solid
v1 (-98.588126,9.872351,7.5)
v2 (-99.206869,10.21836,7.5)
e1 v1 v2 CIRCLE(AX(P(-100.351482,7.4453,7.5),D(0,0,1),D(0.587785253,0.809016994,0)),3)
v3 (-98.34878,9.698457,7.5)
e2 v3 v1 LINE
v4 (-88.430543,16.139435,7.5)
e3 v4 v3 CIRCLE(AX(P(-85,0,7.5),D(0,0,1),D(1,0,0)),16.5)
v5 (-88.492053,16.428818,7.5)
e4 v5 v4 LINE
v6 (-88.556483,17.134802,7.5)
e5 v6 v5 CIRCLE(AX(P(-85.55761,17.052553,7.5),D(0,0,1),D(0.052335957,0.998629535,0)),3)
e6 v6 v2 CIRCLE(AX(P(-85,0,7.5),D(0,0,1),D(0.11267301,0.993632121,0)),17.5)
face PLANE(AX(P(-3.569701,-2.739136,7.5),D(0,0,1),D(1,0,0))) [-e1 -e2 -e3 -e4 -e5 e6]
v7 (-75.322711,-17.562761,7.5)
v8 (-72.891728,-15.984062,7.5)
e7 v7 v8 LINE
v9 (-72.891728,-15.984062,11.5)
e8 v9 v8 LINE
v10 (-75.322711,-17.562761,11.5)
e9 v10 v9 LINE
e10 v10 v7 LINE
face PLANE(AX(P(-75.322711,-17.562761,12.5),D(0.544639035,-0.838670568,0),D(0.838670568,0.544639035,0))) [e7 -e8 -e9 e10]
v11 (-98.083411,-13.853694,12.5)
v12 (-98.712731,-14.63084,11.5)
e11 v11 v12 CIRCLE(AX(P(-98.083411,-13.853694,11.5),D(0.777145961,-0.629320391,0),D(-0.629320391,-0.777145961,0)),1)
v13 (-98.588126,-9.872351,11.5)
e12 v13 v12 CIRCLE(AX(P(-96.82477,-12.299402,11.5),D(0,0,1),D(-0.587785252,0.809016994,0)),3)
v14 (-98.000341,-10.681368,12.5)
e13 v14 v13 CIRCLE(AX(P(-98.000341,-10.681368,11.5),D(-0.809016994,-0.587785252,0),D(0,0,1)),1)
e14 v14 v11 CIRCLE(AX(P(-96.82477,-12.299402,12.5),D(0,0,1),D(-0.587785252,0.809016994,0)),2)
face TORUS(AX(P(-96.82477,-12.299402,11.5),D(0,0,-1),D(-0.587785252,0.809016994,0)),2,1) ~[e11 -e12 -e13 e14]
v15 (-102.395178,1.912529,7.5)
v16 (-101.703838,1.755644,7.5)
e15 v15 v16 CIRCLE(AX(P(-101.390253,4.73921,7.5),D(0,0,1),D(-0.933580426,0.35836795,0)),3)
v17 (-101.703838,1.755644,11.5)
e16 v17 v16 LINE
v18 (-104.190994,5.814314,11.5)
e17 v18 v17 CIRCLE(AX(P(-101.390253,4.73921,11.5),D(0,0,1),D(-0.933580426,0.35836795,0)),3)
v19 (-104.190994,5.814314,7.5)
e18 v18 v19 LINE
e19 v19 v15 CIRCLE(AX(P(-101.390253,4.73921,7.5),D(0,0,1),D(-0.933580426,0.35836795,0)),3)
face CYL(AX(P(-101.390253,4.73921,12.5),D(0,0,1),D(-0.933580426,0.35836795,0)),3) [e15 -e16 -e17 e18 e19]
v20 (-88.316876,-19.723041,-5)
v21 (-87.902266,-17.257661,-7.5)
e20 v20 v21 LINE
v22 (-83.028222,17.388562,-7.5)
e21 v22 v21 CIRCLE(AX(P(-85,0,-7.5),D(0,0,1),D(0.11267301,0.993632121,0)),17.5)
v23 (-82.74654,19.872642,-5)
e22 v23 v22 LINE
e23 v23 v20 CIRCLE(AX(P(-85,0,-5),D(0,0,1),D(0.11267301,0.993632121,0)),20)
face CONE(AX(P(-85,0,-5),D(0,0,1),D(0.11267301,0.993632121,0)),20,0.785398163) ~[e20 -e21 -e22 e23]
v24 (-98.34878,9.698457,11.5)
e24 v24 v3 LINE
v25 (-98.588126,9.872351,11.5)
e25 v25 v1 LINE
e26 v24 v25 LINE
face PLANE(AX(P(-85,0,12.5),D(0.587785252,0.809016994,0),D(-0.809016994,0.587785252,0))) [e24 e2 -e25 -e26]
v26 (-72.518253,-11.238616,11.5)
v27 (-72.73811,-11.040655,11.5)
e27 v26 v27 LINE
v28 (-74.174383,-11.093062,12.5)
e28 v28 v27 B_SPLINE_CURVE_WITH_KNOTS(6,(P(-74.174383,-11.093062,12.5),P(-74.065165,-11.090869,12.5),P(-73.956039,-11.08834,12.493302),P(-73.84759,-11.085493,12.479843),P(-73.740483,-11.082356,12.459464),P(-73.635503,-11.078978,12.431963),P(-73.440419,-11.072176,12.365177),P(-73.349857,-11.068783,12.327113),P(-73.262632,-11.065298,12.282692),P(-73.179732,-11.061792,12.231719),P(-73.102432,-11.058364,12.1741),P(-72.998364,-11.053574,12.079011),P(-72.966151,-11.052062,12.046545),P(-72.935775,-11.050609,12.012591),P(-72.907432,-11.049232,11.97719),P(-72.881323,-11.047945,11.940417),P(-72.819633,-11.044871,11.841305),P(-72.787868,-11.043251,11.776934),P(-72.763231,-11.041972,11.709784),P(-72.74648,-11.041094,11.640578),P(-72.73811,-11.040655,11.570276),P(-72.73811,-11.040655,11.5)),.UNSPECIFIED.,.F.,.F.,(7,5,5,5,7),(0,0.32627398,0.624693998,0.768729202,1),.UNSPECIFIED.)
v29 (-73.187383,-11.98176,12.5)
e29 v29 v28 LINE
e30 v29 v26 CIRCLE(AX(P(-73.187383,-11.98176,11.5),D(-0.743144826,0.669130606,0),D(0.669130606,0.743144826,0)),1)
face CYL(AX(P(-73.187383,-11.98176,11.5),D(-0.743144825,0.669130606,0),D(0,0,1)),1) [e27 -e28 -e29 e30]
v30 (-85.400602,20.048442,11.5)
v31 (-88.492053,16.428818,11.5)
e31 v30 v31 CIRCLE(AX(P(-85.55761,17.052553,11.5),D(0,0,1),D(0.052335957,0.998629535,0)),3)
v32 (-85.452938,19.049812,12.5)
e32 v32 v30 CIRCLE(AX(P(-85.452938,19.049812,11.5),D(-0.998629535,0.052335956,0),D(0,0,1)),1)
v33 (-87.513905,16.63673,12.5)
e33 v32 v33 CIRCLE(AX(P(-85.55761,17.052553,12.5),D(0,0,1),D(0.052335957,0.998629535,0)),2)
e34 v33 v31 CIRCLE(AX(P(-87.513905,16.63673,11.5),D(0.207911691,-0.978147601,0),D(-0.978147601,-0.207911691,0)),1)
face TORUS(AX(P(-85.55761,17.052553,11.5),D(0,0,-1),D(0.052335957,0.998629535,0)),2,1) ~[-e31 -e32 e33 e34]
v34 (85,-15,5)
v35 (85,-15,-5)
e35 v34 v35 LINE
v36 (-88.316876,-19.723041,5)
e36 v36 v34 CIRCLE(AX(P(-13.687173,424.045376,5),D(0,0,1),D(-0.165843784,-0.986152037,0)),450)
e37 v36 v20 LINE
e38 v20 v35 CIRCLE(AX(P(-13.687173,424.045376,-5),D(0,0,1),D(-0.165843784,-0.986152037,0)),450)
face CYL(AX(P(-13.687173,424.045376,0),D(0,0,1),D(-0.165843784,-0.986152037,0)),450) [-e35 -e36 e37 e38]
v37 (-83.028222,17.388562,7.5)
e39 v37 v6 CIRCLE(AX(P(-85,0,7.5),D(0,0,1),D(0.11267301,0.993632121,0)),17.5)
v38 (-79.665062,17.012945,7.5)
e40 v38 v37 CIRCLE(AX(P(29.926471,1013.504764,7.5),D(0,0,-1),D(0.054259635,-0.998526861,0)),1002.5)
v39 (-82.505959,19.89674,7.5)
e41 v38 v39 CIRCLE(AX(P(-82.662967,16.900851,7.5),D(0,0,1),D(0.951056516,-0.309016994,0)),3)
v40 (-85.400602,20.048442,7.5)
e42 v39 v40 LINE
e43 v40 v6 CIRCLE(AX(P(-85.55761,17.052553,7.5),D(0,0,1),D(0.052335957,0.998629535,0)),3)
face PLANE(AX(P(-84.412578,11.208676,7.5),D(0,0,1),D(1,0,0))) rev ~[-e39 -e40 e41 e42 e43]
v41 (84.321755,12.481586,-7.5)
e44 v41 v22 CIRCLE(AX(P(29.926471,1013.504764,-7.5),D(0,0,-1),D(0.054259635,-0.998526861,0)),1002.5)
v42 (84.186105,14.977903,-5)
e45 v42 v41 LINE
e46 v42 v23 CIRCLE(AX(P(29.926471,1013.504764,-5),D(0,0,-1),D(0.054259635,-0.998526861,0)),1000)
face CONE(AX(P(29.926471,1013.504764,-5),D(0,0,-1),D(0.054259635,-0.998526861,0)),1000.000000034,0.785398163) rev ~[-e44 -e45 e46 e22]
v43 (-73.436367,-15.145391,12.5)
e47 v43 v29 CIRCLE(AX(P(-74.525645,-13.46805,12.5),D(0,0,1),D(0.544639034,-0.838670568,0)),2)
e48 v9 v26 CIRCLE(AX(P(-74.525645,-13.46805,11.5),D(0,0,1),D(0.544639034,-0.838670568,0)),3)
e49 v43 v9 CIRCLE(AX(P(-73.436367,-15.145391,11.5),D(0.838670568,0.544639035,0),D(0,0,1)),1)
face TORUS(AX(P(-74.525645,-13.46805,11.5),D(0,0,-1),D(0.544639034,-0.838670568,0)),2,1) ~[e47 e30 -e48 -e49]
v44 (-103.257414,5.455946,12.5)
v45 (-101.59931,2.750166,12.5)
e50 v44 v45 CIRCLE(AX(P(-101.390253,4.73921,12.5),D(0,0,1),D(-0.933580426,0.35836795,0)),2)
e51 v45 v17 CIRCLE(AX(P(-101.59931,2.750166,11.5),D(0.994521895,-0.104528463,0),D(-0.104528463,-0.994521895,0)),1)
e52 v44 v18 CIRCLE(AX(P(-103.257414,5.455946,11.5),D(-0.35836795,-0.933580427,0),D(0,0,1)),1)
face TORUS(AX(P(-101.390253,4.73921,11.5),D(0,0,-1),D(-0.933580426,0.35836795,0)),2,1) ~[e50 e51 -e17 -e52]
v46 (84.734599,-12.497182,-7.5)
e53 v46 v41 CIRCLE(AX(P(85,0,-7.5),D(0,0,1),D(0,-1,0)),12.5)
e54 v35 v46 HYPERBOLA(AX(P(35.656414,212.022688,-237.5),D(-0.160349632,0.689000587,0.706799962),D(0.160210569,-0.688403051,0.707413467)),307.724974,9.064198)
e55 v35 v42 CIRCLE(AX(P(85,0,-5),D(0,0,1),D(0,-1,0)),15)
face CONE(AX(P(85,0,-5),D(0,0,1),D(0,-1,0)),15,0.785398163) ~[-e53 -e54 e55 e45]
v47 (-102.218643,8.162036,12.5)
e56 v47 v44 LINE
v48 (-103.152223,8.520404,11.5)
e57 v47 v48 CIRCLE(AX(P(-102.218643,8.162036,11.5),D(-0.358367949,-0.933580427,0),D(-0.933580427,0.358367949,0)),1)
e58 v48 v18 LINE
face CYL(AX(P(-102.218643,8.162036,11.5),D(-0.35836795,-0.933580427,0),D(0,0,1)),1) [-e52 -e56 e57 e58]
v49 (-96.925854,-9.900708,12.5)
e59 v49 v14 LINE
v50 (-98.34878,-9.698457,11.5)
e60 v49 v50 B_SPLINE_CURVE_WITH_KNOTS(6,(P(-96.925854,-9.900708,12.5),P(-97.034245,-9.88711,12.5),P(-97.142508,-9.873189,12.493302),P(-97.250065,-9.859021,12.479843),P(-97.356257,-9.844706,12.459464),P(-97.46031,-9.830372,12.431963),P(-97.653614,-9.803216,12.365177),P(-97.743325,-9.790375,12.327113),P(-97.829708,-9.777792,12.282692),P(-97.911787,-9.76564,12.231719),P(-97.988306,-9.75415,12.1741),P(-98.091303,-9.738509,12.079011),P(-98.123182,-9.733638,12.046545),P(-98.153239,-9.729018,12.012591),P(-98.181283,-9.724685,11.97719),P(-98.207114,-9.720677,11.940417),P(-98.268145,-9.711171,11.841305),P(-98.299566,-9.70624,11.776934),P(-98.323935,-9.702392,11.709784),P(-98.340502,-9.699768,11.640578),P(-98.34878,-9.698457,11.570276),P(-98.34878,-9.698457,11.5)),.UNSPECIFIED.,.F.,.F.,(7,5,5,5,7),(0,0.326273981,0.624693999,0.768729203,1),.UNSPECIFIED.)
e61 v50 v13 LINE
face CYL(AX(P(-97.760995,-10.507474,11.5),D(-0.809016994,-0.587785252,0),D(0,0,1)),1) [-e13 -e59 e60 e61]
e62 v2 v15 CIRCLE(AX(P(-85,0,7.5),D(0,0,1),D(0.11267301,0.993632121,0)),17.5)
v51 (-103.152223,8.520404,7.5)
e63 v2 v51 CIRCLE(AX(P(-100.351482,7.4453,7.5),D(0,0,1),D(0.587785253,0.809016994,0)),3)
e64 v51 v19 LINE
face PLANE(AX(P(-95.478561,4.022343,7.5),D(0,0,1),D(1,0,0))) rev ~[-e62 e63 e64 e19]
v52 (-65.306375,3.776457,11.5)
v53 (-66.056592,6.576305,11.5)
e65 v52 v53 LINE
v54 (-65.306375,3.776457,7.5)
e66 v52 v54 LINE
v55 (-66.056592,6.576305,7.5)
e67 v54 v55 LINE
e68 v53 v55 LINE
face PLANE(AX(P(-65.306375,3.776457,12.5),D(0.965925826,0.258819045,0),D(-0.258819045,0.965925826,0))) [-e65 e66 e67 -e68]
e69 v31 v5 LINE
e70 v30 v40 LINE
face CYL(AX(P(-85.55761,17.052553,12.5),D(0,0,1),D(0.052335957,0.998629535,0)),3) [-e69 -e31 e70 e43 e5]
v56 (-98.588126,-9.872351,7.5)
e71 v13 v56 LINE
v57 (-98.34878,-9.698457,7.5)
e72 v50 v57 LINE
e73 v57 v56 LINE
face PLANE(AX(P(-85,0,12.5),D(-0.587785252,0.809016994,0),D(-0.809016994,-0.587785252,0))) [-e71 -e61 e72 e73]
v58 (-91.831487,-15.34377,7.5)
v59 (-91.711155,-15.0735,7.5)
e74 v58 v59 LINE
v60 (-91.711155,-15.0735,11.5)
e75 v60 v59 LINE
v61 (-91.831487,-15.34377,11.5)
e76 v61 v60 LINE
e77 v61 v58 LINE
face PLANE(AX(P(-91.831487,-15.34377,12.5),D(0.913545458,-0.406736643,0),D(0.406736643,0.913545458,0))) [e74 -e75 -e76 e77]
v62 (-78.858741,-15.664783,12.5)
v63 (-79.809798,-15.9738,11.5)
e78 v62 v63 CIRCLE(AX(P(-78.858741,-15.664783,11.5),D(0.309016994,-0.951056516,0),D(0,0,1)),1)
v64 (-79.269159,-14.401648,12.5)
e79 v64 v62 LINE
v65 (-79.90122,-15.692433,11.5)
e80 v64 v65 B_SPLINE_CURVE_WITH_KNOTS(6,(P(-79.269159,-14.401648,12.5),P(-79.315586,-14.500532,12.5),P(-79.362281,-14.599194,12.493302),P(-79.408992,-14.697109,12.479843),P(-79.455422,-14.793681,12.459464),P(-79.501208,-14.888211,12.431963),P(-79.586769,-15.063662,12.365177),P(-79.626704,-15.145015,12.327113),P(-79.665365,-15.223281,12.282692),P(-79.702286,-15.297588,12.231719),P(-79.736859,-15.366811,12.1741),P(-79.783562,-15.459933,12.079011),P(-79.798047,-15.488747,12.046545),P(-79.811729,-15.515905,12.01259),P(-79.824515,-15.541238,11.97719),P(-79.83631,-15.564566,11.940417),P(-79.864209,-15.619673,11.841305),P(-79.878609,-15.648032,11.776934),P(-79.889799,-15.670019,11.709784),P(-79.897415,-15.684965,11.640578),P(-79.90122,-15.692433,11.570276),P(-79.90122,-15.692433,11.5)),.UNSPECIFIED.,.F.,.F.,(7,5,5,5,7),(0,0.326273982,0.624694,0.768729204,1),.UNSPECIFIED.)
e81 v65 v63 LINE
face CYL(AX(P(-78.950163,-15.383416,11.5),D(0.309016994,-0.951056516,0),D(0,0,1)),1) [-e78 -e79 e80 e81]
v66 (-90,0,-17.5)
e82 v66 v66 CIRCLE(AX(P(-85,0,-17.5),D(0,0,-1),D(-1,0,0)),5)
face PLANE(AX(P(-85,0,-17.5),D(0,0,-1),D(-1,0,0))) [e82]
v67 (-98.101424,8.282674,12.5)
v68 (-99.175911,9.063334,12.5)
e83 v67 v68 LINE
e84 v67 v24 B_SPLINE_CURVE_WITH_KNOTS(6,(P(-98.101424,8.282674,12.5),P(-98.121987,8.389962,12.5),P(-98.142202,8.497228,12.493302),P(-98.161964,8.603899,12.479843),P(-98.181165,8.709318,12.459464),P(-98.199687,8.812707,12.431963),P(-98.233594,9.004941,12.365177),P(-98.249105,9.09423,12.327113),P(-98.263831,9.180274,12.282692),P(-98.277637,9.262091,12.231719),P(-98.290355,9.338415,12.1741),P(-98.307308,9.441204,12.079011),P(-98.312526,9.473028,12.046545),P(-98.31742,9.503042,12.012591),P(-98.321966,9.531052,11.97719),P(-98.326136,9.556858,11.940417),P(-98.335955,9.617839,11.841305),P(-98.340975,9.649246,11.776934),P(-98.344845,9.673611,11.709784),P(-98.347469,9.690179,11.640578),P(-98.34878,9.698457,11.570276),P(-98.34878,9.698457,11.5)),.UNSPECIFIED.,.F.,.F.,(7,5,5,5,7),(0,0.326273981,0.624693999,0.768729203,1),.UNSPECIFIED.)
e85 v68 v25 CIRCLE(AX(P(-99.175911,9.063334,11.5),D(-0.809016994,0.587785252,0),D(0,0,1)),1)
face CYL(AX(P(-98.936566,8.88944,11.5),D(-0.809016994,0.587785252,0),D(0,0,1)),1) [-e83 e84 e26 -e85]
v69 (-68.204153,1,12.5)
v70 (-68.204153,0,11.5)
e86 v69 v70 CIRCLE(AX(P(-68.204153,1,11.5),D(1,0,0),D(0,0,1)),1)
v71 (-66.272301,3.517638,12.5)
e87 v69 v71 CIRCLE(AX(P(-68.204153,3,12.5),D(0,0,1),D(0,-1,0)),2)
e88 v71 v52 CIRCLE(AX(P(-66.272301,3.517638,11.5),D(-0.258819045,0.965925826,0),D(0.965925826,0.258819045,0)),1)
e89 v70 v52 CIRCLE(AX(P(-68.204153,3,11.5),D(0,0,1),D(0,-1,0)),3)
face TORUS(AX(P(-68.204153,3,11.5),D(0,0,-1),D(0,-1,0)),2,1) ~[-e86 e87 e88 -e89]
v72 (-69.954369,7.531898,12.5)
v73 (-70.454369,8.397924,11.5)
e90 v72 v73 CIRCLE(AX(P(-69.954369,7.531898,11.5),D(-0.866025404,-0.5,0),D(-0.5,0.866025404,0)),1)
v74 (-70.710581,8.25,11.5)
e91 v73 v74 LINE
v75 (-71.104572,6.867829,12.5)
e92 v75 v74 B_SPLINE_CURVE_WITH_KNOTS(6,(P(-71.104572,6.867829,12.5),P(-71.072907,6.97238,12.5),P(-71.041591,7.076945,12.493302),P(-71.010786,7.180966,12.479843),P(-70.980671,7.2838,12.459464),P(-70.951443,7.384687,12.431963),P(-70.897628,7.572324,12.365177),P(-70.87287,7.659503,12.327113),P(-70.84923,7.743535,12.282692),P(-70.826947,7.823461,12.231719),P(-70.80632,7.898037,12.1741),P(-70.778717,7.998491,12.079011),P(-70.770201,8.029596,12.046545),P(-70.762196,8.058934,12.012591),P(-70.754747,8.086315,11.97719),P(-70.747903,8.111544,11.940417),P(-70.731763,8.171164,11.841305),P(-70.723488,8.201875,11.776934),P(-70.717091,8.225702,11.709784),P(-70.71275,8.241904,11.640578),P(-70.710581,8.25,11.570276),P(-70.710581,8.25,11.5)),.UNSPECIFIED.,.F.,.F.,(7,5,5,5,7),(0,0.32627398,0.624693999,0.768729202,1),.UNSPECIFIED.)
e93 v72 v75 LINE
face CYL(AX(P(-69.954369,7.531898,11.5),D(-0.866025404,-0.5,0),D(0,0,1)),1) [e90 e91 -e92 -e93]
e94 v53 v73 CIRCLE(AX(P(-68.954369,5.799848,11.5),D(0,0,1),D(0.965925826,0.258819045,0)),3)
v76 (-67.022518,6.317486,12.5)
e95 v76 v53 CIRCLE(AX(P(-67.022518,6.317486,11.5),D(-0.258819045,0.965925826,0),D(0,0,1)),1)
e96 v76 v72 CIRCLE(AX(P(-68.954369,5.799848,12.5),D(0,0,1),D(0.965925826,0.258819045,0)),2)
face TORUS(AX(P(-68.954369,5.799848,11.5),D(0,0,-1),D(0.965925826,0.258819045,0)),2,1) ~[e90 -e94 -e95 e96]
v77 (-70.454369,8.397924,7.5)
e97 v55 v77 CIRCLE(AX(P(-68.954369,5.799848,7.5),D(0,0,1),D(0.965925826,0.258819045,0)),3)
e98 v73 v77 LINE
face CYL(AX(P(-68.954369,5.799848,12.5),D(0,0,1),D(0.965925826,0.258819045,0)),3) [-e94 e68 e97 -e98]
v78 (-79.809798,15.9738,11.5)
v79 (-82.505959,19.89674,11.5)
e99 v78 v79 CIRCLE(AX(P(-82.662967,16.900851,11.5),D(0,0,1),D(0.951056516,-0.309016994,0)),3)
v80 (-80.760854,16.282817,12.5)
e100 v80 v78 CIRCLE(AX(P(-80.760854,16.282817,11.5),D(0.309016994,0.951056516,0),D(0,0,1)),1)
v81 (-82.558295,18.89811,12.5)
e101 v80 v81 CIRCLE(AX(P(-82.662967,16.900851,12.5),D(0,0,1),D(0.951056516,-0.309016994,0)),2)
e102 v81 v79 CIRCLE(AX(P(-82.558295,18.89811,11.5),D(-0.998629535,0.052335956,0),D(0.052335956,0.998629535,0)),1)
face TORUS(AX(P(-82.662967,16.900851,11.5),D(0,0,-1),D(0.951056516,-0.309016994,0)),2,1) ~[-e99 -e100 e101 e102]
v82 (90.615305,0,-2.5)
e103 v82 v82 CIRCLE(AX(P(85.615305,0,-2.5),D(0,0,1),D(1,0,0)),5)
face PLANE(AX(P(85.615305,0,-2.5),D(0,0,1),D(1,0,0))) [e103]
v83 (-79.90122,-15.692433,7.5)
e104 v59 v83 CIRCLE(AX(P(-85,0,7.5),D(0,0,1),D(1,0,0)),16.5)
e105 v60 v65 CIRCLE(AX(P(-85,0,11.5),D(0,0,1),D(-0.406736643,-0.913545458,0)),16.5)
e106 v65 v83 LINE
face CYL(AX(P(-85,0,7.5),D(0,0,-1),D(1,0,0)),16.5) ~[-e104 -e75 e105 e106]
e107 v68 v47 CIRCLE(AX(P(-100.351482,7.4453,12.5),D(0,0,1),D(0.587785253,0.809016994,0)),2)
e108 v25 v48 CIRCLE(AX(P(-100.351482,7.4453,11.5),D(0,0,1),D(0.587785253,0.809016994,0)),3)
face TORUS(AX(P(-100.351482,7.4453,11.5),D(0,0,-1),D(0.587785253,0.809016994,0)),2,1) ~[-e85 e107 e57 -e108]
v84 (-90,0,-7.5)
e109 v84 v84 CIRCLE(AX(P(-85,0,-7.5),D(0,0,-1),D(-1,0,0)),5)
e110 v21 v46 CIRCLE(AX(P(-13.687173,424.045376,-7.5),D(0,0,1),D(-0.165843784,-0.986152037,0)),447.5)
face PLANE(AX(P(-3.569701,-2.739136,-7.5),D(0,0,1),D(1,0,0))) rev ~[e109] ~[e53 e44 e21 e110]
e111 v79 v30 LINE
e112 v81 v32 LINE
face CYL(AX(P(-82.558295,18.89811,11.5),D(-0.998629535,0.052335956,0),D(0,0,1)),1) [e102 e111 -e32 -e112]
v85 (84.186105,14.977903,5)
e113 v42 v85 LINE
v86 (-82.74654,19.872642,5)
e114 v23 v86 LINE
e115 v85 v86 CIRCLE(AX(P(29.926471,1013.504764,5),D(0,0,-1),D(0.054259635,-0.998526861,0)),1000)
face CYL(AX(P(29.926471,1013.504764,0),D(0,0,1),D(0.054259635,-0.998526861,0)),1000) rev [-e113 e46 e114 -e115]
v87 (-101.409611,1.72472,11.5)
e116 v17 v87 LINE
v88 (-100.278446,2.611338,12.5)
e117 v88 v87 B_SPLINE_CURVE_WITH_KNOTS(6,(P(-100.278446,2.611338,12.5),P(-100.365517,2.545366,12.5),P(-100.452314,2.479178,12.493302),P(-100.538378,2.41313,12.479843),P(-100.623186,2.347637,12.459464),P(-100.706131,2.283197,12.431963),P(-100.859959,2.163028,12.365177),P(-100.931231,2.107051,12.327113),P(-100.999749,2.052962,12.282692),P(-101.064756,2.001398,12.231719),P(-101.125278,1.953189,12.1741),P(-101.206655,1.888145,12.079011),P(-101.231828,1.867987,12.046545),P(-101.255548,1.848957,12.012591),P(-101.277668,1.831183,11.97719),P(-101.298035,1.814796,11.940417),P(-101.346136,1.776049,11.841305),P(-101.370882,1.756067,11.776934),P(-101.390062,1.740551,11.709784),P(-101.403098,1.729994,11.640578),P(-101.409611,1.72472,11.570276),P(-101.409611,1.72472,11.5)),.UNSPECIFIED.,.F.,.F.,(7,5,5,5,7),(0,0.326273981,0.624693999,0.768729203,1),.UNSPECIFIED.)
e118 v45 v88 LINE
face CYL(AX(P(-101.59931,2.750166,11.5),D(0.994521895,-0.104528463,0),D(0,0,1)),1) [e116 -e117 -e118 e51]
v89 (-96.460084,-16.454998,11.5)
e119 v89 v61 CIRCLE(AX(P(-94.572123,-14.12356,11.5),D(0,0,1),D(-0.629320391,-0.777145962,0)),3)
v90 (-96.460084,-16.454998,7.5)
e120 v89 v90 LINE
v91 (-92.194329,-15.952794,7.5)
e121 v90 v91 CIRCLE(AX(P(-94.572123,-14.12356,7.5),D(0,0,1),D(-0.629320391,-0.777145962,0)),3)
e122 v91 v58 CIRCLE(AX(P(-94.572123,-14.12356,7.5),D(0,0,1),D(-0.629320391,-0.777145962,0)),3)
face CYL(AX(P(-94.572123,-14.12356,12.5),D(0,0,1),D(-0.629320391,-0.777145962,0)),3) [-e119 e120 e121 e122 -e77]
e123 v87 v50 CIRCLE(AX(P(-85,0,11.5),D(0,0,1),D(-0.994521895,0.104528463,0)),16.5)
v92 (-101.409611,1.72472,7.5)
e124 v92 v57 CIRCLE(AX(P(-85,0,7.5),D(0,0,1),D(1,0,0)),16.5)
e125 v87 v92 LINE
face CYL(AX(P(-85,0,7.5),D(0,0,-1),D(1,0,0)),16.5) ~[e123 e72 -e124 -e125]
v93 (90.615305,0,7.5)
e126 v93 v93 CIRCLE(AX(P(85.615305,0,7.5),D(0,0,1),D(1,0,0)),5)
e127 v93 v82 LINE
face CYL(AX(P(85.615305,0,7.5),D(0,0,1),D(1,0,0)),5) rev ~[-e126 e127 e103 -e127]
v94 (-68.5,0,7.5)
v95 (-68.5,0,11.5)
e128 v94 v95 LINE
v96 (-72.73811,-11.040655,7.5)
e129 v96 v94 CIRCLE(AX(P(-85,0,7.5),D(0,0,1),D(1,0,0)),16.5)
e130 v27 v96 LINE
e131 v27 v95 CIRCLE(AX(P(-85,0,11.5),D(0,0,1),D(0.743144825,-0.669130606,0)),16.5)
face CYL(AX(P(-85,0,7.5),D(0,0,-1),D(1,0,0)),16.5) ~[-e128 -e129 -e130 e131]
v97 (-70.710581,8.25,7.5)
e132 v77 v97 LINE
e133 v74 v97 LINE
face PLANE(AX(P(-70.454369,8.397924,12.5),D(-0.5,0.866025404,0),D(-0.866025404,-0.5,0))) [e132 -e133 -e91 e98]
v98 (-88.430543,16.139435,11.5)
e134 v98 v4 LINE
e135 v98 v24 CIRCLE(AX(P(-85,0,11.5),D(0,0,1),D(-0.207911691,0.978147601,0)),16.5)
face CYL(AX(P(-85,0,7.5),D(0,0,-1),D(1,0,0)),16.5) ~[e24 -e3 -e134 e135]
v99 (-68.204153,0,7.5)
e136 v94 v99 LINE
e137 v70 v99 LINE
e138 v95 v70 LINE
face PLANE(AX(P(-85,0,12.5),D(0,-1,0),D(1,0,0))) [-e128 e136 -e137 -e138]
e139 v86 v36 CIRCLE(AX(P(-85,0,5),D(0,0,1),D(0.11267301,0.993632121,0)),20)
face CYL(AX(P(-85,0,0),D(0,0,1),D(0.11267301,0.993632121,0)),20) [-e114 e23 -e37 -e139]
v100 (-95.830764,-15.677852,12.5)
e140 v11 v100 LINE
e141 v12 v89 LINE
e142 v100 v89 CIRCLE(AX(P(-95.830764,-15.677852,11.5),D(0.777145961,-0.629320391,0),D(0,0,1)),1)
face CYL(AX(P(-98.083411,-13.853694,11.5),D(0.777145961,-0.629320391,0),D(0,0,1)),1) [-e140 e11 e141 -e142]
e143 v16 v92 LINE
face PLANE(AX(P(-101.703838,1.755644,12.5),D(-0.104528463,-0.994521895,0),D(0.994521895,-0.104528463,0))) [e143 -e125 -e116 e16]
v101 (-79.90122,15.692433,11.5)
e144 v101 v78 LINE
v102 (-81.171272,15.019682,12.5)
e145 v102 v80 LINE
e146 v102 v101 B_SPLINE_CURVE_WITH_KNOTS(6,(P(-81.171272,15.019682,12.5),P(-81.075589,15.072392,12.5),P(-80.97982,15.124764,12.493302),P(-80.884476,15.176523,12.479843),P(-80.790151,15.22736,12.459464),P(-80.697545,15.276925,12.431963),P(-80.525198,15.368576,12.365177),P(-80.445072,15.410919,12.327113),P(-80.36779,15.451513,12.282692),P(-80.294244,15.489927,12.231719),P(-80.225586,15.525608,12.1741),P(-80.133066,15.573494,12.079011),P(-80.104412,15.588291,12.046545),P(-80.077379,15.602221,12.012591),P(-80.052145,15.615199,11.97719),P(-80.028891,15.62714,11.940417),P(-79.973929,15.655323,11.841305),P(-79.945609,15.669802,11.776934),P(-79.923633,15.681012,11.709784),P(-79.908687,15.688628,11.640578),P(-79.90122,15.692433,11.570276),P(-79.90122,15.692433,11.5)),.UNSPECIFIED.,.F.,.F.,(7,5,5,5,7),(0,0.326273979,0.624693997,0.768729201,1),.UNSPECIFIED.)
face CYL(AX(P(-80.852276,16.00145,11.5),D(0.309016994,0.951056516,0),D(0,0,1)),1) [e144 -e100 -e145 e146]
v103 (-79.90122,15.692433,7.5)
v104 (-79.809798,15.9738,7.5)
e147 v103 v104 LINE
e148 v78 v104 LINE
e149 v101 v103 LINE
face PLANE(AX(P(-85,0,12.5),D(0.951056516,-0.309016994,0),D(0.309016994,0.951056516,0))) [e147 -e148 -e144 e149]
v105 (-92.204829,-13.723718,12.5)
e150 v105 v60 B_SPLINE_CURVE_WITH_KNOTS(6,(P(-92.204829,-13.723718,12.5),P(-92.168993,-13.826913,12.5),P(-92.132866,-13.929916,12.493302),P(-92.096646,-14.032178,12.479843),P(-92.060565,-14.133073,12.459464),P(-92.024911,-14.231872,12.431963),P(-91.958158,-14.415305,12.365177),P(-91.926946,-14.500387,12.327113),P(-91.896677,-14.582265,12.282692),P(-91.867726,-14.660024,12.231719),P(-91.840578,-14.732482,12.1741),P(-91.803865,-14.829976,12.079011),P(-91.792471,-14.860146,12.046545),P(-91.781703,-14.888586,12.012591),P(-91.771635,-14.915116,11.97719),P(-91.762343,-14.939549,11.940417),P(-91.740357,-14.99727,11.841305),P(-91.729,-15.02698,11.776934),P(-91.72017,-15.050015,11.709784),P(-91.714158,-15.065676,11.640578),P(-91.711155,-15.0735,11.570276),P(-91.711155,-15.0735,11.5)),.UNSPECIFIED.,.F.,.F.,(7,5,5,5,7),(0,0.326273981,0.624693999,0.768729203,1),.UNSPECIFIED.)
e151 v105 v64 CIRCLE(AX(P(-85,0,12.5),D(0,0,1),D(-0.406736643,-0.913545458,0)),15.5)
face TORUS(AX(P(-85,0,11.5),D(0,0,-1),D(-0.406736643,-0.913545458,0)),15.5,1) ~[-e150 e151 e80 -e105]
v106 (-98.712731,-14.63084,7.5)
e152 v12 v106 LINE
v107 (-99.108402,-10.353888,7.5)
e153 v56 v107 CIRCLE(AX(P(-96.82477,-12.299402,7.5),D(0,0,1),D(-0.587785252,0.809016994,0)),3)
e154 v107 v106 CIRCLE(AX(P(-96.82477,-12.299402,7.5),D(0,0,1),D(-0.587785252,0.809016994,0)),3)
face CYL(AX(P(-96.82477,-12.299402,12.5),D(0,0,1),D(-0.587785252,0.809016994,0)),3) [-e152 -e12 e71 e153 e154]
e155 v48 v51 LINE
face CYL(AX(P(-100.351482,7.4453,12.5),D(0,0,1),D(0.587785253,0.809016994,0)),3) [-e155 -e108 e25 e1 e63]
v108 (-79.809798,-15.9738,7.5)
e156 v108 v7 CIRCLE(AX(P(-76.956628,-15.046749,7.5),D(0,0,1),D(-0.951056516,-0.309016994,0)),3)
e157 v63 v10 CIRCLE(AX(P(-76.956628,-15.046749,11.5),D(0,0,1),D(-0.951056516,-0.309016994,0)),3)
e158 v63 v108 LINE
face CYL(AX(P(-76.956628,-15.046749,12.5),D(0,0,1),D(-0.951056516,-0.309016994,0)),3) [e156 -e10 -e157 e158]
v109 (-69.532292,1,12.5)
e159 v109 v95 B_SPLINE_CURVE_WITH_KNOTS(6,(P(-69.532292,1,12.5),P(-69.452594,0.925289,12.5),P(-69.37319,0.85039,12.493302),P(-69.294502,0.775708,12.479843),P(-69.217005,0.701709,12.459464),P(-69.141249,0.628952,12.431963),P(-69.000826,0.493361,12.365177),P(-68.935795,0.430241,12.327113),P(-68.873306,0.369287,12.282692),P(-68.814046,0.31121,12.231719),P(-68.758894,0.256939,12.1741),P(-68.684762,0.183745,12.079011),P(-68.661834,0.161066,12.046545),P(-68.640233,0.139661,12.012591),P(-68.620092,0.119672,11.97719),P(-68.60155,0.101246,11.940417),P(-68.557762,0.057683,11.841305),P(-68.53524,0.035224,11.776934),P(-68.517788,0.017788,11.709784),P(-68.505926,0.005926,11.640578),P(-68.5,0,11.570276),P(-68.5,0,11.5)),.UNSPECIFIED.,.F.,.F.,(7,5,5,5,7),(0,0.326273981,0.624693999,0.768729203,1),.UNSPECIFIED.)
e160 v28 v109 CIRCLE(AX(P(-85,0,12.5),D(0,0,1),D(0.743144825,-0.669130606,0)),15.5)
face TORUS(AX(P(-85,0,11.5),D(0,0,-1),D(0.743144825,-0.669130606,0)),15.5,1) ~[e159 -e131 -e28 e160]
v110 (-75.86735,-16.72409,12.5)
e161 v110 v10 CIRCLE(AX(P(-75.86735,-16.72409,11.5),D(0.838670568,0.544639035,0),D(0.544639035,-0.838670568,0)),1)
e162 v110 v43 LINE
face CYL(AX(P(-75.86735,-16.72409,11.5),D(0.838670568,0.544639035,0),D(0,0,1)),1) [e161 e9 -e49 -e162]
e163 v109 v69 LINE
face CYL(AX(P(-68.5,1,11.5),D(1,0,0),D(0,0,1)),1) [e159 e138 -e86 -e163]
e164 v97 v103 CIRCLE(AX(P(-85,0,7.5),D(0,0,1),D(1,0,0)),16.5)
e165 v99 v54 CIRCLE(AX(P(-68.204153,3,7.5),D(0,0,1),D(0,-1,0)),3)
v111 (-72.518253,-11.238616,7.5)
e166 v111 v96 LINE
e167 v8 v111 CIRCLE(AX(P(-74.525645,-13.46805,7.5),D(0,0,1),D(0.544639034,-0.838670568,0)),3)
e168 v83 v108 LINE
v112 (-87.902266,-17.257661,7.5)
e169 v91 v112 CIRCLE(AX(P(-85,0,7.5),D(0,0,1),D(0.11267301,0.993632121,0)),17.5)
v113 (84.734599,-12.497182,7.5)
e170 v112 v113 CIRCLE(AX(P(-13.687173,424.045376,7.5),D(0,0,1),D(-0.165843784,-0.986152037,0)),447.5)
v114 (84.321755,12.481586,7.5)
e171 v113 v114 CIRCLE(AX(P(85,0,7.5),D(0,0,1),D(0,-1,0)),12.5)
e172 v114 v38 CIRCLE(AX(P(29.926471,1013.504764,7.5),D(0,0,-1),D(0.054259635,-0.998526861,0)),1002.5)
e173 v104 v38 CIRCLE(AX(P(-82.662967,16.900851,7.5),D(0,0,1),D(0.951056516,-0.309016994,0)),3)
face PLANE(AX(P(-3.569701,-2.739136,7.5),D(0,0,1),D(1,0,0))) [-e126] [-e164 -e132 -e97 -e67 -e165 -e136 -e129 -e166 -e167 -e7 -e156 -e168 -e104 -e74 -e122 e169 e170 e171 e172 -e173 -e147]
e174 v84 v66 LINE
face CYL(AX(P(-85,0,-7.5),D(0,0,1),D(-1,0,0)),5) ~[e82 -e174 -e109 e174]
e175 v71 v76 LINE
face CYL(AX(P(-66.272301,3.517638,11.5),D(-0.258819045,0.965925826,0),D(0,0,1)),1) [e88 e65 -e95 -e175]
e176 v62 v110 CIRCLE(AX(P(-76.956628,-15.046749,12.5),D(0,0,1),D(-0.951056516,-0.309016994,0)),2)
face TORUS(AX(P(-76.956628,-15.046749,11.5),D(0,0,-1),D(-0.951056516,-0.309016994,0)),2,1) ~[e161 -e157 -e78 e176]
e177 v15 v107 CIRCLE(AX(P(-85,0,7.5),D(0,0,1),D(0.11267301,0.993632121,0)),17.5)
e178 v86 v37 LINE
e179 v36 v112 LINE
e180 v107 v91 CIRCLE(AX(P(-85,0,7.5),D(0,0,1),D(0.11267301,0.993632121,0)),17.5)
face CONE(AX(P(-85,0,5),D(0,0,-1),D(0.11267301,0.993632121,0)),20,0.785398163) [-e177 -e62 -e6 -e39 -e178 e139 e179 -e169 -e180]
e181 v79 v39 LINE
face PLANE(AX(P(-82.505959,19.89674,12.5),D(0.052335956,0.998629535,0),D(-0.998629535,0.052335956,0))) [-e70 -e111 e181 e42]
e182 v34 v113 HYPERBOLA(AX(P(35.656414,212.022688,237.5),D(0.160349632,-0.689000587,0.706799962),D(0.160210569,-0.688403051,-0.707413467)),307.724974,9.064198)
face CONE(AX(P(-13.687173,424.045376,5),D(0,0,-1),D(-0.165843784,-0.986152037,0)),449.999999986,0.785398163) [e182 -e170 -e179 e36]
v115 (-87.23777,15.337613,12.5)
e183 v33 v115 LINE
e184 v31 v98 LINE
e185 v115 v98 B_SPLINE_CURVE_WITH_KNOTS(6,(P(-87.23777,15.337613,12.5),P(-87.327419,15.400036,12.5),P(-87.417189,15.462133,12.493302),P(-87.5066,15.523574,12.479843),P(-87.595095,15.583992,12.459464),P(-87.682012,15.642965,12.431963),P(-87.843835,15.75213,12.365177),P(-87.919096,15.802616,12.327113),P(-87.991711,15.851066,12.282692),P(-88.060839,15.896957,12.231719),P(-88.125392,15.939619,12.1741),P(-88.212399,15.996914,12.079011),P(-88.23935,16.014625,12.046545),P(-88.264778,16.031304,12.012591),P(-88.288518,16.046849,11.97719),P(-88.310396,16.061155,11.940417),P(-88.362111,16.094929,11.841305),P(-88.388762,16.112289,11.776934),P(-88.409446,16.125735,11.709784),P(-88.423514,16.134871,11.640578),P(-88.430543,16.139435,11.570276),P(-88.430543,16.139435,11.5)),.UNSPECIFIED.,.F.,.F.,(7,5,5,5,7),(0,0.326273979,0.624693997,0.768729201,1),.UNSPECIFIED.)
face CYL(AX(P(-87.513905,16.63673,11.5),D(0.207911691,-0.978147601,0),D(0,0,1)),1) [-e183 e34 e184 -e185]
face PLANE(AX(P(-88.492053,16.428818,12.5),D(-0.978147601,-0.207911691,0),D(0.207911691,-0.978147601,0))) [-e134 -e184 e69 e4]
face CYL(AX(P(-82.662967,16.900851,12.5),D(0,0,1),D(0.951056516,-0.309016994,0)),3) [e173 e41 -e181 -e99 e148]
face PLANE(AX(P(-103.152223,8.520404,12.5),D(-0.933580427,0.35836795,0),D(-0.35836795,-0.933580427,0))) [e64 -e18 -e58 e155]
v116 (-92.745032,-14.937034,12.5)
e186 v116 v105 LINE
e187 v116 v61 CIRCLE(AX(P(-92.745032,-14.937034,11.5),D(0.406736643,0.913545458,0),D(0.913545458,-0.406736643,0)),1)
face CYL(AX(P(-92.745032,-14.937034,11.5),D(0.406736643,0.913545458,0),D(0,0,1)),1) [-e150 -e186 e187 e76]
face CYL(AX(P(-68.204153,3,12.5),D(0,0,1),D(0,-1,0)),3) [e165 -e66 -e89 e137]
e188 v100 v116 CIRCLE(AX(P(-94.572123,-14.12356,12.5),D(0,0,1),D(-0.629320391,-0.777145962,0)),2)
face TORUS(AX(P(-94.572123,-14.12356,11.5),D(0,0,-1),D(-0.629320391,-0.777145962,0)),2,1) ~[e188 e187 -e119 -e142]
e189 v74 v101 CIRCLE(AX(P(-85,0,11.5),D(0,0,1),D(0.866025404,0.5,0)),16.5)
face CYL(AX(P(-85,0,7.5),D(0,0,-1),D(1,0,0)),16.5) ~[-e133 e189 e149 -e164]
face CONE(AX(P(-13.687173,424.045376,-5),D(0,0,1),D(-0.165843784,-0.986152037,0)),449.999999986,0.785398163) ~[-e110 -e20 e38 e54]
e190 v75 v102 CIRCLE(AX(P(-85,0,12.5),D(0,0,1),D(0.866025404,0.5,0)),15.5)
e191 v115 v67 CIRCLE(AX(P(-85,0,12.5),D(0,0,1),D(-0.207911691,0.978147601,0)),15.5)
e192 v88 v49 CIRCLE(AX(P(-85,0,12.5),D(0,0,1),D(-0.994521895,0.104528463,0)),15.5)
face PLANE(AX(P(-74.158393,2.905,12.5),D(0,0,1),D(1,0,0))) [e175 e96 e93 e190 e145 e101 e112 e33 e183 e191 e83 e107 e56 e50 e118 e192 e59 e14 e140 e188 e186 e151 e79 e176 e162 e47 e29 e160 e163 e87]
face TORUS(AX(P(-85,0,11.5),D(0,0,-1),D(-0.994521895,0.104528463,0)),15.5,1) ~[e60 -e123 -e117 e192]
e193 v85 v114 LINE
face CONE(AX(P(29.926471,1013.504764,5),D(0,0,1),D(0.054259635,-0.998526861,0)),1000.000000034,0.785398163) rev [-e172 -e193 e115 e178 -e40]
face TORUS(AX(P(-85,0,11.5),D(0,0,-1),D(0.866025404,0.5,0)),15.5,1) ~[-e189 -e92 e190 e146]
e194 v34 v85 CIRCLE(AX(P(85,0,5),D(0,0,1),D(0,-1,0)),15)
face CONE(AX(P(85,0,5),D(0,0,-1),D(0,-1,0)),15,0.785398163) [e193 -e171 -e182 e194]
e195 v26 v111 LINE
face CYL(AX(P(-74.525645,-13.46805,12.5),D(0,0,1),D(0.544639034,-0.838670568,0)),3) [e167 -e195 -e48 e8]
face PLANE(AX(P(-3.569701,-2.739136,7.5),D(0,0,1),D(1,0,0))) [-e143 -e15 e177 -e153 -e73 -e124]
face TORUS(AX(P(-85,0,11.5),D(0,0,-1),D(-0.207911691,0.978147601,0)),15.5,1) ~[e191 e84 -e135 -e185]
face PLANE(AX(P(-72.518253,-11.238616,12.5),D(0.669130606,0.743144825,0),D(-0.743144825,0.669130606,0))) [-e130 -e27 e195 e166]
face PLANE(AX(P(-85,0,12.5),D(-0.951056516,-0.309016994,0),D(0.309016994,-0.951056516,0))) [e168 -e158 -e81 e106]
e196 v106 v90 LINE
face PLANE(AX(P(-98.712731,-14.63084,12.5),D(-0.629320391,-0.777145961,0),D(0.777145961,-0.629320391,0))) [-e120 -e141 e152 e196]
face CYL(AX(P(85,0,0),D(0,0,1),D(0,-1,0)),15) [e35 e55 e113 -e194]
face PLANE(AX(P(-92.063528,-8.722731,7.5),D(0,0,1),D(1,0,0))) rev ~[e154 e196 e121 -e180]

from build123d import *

# Parameters (mm, degrees)
BOSS_EXTRUDE1_DEPTH = 7.5
CHAMFER1_SIZE       = 2.5
SKETCH2_R           = 16.5
BOSS_EXTRUDE2_DEPTH = 5
BOSS_EXTRUDE3_DEPTH = 5
FILLET1_R           = 1
SKETCH4_R           = 5
CUT_EXTRUDE1_DEPTH  = 10
SKETCH5_R           = 5
BOSS_EXTRUDE4_DEPTH = 10


with BuildPart() as part:
    # Sketch1 → Boss-Extrude1 (new body, symmetric)
    with BuildSketch(Plane.XY):
        with BuildLine():
            ThreePointArc((85, -15), (99.994474711, 0.407097217), (84.186105477, 14.977902914))
            ThreePointArc((84.186105477, 14.977902914), (0.617423728, 13.934366249), (-82.746539792, 19.872642429))
            ThreePointArc((-82.746539792, 19.872642429), (-104.804980291, 2.786172224), (-88.316875687, -19.723040731))
            ThreePointArc((-88.316875687, -19.723040731), (-1.428818786, -25.787629696), (85, -15))
        make_face()
    extrude(amount=BOSS_EXTRUDE1_DEPTH, both=True)

    # Chamfer1
    chamfer1_edges = [part.edges().sort_by_distance(p)[0] for p in [
        (99.994474711, 0.407097217, 7.5),
        (0.617423728, 13.934366249, 7.5),
        (-104.804980291, 2.786172224, 7.5),
        (-1.428818786, -25.787629696, 7.5),
        (-104.804980291, 2.786172224, -7.5),
        (0.617423728, 13.934366249, -7.5),
        (99.994474711, 0.407097217, -7.5),
        (-1.428818786, -25.787629696, -7.5),
    ]]
    chamfer(chamfer1_edges, length=CHAMFER1_SIZE)

    # Sketch2 → Boss-Extrude2 (add)
    with BuildSketch(Plane.XY.offset(7.5)):
        with Locations((-85, 0)):
            Circle(SKETCH2_R)
    extrude(amount=BOSS_EXTRUDE2_DEPTH)

    # Sketch3 → Boss-Extrude3 (add)
    with BuildSketch(Plane.XY.offset(12.5)):
        with BuildLine():
            Line((-70.454369396, 8.397923745), (-85, 0))
            Line((-85, 0), (-68.20415251, 0))
            ThreePointArc((-68.20415251, 0), (-65.824092489, 1.173715713), (-65.306375031, 3.776457135))
            Line((-65.306375031, 3.776457135), (-66.056591917, 6.576304669))
            ThreePointArc((-66.056591917, 6.576304669), (-67.806319099, 8.571486131), (-70.454369396, 8.397923745))
        make_face()
        with BuildLine():
            Line((-72.518252849, -11.238615615), (-85, 0))
            Line((-85, 0), (-79.809797691, -15.973800202))
            ThreePointArc((-79.809797691, -15.973800202), (-77.95804872, -17.874673692), (-75.322711037, -17.562760922))
            Line((-75.322711037, -17.562760922), (-72.891727563, -15.984061795))
            ThreePointArc((-72.891727563, -15.984061795), (-71.534892666, -13.703427379), (-72.518252849, -11.238615615))
        make_face()
        with BuildLine():
            Line((-91.831486626, -15.343770181), (-85, 0))
            Line((-85, 0), (-98.588126054, -9.872351454))
            ThreePointArc((-98.588126054, -9.872351454), (-99.823742272, -12.220871592), (-98.71273147, -14.630840322))
            Line((-98.71273147, -14.630840322), (-96.460084172, -16.454998137))
            ThreePointArc((-96.460084172, -16.454998137), (-93.871786907, -17.040670013), (-91.831486626, -15.343770181))
        make_face()
        with BuildLine():
            Line((-101.70383808, 1.755644127), (-85, 0))
            Line((-85, 0), (-98.588126054, 9.872351454))
            ThreePointArc((-98.588126054, 9.872351454), (-101.203527845, 10.321759676), (-103.15222309, 8.52040432))
            Line((-103.15222309, 8.52040432), (-104.190993969, 5.814313662))
            ThreePointArc((-104.190993969, 5.814313662), (-103.948173183, 3.171714119), (-101.70383808, 1.755644127))
        make_face()
        with BuildLine():
            Line((-88.49205305, 16.428817924), (-85, 0))
            Line((-85, 0), (-79.809797691, 15.973800202))
            ThreePointArc((-79.809797691, 15.973800202), (-80.190588674, 18.600069896), (-82.505959371, 19.896739789))
            Line((-82.505959371, 19.896739789), (-85.400602379, 20.048441601))
            ThreePointArc((-85.400602379, 20.048441601), (-87.838828145, 19.000897142), (-88.49205305, 16.428817924))
        make_face()
    extrude(amount=-BOSS_EXTRUDE3_DEPTH)

    # Fillet1
    fillet1_edges = [part.edges().sort_by_distance(p)[0] for p in [
        (-77.95804872, -17.874673692, 12.5),
        (-79.855508642, -15.83311636, 12.5),
        (-74.1072193, -16.773411359, 12.5),
        (-71.534892666, -13.703427379, 12.5),
        (-72.628181614, -11.13963531, 12.5),
        (-85.863543278, -16.477387323, 12.5),
        (-99.823742272, -12.220871592, 12.5),
        (-98.468453231, -9.785404059, 12.5),
        (-97.586407821, -15.542919229, 12.5),
        (-93.871786907, -17.040670013, 12.5),
        (-91.771320618, -15.208635116, 12.5),
        (-100.937776134, -4.270514244, 12.5),
        (-101.203527845, 10.321759676, 12.5),
        (-98.468453231, 9.785404059, 12.5),
        (-103.67160853, 7.167358991, 12.5),
        (-103.948173183, 3.171714119, 12.5),
        (-101.556724677, 1.740181886, 12.5),
        (-93.986544078, 13.838064371, 12.5),
        (-80.190588674, 18.600069896, 12.5),
        (-79.855508642, 15.83311636, 12.5),
        (-83.953280875, 19.972590695, 12.5),
        (-87.838828145, 19.000897142, 12.5),
        (-88.461297974, 16.284126668, 12.5),
        (-74.616213548, 12.822908364, 12.5),
        (-65.824092489, 1.173715713, 12.5),
        (-68.352076255, 0, 12.5),
        (-65.681483474, 5.176380902, 12.5),
        (-67.806319099, 8.571486131, 12.5),
        (-70.582475117, 8.323961872, 12.5),
        (-69.595922963, -5.913071167, 12.5),
    ]]
    fillet(fillet1_edges, radius=FILLET1_R)

    # Sketch4 → Cut-Extrude1 (cut)
    with BuildSketch(Plane.XY.offset(7.5)):
        with Locations((85.615305239, 0)):
            Circle(SKETCH4_R)
    extrude(amount=-CUT_EXTRUDE1_DEPTH, mode=Mode.SUBTRACT)

    # Sketch5 → Boss-Extrude4 (add)
    with BuildSketch(Plane(origin=(0, 0, -7.5), x_dir=(-1, 0, 0), z_dir=(0, 0, -1))):
        with Locations((85, 0)):
            Circle(SKETCH5_R)
    extrude(amount=BOSS_EXTRUDE4_DEPTH)


solid = part.part
